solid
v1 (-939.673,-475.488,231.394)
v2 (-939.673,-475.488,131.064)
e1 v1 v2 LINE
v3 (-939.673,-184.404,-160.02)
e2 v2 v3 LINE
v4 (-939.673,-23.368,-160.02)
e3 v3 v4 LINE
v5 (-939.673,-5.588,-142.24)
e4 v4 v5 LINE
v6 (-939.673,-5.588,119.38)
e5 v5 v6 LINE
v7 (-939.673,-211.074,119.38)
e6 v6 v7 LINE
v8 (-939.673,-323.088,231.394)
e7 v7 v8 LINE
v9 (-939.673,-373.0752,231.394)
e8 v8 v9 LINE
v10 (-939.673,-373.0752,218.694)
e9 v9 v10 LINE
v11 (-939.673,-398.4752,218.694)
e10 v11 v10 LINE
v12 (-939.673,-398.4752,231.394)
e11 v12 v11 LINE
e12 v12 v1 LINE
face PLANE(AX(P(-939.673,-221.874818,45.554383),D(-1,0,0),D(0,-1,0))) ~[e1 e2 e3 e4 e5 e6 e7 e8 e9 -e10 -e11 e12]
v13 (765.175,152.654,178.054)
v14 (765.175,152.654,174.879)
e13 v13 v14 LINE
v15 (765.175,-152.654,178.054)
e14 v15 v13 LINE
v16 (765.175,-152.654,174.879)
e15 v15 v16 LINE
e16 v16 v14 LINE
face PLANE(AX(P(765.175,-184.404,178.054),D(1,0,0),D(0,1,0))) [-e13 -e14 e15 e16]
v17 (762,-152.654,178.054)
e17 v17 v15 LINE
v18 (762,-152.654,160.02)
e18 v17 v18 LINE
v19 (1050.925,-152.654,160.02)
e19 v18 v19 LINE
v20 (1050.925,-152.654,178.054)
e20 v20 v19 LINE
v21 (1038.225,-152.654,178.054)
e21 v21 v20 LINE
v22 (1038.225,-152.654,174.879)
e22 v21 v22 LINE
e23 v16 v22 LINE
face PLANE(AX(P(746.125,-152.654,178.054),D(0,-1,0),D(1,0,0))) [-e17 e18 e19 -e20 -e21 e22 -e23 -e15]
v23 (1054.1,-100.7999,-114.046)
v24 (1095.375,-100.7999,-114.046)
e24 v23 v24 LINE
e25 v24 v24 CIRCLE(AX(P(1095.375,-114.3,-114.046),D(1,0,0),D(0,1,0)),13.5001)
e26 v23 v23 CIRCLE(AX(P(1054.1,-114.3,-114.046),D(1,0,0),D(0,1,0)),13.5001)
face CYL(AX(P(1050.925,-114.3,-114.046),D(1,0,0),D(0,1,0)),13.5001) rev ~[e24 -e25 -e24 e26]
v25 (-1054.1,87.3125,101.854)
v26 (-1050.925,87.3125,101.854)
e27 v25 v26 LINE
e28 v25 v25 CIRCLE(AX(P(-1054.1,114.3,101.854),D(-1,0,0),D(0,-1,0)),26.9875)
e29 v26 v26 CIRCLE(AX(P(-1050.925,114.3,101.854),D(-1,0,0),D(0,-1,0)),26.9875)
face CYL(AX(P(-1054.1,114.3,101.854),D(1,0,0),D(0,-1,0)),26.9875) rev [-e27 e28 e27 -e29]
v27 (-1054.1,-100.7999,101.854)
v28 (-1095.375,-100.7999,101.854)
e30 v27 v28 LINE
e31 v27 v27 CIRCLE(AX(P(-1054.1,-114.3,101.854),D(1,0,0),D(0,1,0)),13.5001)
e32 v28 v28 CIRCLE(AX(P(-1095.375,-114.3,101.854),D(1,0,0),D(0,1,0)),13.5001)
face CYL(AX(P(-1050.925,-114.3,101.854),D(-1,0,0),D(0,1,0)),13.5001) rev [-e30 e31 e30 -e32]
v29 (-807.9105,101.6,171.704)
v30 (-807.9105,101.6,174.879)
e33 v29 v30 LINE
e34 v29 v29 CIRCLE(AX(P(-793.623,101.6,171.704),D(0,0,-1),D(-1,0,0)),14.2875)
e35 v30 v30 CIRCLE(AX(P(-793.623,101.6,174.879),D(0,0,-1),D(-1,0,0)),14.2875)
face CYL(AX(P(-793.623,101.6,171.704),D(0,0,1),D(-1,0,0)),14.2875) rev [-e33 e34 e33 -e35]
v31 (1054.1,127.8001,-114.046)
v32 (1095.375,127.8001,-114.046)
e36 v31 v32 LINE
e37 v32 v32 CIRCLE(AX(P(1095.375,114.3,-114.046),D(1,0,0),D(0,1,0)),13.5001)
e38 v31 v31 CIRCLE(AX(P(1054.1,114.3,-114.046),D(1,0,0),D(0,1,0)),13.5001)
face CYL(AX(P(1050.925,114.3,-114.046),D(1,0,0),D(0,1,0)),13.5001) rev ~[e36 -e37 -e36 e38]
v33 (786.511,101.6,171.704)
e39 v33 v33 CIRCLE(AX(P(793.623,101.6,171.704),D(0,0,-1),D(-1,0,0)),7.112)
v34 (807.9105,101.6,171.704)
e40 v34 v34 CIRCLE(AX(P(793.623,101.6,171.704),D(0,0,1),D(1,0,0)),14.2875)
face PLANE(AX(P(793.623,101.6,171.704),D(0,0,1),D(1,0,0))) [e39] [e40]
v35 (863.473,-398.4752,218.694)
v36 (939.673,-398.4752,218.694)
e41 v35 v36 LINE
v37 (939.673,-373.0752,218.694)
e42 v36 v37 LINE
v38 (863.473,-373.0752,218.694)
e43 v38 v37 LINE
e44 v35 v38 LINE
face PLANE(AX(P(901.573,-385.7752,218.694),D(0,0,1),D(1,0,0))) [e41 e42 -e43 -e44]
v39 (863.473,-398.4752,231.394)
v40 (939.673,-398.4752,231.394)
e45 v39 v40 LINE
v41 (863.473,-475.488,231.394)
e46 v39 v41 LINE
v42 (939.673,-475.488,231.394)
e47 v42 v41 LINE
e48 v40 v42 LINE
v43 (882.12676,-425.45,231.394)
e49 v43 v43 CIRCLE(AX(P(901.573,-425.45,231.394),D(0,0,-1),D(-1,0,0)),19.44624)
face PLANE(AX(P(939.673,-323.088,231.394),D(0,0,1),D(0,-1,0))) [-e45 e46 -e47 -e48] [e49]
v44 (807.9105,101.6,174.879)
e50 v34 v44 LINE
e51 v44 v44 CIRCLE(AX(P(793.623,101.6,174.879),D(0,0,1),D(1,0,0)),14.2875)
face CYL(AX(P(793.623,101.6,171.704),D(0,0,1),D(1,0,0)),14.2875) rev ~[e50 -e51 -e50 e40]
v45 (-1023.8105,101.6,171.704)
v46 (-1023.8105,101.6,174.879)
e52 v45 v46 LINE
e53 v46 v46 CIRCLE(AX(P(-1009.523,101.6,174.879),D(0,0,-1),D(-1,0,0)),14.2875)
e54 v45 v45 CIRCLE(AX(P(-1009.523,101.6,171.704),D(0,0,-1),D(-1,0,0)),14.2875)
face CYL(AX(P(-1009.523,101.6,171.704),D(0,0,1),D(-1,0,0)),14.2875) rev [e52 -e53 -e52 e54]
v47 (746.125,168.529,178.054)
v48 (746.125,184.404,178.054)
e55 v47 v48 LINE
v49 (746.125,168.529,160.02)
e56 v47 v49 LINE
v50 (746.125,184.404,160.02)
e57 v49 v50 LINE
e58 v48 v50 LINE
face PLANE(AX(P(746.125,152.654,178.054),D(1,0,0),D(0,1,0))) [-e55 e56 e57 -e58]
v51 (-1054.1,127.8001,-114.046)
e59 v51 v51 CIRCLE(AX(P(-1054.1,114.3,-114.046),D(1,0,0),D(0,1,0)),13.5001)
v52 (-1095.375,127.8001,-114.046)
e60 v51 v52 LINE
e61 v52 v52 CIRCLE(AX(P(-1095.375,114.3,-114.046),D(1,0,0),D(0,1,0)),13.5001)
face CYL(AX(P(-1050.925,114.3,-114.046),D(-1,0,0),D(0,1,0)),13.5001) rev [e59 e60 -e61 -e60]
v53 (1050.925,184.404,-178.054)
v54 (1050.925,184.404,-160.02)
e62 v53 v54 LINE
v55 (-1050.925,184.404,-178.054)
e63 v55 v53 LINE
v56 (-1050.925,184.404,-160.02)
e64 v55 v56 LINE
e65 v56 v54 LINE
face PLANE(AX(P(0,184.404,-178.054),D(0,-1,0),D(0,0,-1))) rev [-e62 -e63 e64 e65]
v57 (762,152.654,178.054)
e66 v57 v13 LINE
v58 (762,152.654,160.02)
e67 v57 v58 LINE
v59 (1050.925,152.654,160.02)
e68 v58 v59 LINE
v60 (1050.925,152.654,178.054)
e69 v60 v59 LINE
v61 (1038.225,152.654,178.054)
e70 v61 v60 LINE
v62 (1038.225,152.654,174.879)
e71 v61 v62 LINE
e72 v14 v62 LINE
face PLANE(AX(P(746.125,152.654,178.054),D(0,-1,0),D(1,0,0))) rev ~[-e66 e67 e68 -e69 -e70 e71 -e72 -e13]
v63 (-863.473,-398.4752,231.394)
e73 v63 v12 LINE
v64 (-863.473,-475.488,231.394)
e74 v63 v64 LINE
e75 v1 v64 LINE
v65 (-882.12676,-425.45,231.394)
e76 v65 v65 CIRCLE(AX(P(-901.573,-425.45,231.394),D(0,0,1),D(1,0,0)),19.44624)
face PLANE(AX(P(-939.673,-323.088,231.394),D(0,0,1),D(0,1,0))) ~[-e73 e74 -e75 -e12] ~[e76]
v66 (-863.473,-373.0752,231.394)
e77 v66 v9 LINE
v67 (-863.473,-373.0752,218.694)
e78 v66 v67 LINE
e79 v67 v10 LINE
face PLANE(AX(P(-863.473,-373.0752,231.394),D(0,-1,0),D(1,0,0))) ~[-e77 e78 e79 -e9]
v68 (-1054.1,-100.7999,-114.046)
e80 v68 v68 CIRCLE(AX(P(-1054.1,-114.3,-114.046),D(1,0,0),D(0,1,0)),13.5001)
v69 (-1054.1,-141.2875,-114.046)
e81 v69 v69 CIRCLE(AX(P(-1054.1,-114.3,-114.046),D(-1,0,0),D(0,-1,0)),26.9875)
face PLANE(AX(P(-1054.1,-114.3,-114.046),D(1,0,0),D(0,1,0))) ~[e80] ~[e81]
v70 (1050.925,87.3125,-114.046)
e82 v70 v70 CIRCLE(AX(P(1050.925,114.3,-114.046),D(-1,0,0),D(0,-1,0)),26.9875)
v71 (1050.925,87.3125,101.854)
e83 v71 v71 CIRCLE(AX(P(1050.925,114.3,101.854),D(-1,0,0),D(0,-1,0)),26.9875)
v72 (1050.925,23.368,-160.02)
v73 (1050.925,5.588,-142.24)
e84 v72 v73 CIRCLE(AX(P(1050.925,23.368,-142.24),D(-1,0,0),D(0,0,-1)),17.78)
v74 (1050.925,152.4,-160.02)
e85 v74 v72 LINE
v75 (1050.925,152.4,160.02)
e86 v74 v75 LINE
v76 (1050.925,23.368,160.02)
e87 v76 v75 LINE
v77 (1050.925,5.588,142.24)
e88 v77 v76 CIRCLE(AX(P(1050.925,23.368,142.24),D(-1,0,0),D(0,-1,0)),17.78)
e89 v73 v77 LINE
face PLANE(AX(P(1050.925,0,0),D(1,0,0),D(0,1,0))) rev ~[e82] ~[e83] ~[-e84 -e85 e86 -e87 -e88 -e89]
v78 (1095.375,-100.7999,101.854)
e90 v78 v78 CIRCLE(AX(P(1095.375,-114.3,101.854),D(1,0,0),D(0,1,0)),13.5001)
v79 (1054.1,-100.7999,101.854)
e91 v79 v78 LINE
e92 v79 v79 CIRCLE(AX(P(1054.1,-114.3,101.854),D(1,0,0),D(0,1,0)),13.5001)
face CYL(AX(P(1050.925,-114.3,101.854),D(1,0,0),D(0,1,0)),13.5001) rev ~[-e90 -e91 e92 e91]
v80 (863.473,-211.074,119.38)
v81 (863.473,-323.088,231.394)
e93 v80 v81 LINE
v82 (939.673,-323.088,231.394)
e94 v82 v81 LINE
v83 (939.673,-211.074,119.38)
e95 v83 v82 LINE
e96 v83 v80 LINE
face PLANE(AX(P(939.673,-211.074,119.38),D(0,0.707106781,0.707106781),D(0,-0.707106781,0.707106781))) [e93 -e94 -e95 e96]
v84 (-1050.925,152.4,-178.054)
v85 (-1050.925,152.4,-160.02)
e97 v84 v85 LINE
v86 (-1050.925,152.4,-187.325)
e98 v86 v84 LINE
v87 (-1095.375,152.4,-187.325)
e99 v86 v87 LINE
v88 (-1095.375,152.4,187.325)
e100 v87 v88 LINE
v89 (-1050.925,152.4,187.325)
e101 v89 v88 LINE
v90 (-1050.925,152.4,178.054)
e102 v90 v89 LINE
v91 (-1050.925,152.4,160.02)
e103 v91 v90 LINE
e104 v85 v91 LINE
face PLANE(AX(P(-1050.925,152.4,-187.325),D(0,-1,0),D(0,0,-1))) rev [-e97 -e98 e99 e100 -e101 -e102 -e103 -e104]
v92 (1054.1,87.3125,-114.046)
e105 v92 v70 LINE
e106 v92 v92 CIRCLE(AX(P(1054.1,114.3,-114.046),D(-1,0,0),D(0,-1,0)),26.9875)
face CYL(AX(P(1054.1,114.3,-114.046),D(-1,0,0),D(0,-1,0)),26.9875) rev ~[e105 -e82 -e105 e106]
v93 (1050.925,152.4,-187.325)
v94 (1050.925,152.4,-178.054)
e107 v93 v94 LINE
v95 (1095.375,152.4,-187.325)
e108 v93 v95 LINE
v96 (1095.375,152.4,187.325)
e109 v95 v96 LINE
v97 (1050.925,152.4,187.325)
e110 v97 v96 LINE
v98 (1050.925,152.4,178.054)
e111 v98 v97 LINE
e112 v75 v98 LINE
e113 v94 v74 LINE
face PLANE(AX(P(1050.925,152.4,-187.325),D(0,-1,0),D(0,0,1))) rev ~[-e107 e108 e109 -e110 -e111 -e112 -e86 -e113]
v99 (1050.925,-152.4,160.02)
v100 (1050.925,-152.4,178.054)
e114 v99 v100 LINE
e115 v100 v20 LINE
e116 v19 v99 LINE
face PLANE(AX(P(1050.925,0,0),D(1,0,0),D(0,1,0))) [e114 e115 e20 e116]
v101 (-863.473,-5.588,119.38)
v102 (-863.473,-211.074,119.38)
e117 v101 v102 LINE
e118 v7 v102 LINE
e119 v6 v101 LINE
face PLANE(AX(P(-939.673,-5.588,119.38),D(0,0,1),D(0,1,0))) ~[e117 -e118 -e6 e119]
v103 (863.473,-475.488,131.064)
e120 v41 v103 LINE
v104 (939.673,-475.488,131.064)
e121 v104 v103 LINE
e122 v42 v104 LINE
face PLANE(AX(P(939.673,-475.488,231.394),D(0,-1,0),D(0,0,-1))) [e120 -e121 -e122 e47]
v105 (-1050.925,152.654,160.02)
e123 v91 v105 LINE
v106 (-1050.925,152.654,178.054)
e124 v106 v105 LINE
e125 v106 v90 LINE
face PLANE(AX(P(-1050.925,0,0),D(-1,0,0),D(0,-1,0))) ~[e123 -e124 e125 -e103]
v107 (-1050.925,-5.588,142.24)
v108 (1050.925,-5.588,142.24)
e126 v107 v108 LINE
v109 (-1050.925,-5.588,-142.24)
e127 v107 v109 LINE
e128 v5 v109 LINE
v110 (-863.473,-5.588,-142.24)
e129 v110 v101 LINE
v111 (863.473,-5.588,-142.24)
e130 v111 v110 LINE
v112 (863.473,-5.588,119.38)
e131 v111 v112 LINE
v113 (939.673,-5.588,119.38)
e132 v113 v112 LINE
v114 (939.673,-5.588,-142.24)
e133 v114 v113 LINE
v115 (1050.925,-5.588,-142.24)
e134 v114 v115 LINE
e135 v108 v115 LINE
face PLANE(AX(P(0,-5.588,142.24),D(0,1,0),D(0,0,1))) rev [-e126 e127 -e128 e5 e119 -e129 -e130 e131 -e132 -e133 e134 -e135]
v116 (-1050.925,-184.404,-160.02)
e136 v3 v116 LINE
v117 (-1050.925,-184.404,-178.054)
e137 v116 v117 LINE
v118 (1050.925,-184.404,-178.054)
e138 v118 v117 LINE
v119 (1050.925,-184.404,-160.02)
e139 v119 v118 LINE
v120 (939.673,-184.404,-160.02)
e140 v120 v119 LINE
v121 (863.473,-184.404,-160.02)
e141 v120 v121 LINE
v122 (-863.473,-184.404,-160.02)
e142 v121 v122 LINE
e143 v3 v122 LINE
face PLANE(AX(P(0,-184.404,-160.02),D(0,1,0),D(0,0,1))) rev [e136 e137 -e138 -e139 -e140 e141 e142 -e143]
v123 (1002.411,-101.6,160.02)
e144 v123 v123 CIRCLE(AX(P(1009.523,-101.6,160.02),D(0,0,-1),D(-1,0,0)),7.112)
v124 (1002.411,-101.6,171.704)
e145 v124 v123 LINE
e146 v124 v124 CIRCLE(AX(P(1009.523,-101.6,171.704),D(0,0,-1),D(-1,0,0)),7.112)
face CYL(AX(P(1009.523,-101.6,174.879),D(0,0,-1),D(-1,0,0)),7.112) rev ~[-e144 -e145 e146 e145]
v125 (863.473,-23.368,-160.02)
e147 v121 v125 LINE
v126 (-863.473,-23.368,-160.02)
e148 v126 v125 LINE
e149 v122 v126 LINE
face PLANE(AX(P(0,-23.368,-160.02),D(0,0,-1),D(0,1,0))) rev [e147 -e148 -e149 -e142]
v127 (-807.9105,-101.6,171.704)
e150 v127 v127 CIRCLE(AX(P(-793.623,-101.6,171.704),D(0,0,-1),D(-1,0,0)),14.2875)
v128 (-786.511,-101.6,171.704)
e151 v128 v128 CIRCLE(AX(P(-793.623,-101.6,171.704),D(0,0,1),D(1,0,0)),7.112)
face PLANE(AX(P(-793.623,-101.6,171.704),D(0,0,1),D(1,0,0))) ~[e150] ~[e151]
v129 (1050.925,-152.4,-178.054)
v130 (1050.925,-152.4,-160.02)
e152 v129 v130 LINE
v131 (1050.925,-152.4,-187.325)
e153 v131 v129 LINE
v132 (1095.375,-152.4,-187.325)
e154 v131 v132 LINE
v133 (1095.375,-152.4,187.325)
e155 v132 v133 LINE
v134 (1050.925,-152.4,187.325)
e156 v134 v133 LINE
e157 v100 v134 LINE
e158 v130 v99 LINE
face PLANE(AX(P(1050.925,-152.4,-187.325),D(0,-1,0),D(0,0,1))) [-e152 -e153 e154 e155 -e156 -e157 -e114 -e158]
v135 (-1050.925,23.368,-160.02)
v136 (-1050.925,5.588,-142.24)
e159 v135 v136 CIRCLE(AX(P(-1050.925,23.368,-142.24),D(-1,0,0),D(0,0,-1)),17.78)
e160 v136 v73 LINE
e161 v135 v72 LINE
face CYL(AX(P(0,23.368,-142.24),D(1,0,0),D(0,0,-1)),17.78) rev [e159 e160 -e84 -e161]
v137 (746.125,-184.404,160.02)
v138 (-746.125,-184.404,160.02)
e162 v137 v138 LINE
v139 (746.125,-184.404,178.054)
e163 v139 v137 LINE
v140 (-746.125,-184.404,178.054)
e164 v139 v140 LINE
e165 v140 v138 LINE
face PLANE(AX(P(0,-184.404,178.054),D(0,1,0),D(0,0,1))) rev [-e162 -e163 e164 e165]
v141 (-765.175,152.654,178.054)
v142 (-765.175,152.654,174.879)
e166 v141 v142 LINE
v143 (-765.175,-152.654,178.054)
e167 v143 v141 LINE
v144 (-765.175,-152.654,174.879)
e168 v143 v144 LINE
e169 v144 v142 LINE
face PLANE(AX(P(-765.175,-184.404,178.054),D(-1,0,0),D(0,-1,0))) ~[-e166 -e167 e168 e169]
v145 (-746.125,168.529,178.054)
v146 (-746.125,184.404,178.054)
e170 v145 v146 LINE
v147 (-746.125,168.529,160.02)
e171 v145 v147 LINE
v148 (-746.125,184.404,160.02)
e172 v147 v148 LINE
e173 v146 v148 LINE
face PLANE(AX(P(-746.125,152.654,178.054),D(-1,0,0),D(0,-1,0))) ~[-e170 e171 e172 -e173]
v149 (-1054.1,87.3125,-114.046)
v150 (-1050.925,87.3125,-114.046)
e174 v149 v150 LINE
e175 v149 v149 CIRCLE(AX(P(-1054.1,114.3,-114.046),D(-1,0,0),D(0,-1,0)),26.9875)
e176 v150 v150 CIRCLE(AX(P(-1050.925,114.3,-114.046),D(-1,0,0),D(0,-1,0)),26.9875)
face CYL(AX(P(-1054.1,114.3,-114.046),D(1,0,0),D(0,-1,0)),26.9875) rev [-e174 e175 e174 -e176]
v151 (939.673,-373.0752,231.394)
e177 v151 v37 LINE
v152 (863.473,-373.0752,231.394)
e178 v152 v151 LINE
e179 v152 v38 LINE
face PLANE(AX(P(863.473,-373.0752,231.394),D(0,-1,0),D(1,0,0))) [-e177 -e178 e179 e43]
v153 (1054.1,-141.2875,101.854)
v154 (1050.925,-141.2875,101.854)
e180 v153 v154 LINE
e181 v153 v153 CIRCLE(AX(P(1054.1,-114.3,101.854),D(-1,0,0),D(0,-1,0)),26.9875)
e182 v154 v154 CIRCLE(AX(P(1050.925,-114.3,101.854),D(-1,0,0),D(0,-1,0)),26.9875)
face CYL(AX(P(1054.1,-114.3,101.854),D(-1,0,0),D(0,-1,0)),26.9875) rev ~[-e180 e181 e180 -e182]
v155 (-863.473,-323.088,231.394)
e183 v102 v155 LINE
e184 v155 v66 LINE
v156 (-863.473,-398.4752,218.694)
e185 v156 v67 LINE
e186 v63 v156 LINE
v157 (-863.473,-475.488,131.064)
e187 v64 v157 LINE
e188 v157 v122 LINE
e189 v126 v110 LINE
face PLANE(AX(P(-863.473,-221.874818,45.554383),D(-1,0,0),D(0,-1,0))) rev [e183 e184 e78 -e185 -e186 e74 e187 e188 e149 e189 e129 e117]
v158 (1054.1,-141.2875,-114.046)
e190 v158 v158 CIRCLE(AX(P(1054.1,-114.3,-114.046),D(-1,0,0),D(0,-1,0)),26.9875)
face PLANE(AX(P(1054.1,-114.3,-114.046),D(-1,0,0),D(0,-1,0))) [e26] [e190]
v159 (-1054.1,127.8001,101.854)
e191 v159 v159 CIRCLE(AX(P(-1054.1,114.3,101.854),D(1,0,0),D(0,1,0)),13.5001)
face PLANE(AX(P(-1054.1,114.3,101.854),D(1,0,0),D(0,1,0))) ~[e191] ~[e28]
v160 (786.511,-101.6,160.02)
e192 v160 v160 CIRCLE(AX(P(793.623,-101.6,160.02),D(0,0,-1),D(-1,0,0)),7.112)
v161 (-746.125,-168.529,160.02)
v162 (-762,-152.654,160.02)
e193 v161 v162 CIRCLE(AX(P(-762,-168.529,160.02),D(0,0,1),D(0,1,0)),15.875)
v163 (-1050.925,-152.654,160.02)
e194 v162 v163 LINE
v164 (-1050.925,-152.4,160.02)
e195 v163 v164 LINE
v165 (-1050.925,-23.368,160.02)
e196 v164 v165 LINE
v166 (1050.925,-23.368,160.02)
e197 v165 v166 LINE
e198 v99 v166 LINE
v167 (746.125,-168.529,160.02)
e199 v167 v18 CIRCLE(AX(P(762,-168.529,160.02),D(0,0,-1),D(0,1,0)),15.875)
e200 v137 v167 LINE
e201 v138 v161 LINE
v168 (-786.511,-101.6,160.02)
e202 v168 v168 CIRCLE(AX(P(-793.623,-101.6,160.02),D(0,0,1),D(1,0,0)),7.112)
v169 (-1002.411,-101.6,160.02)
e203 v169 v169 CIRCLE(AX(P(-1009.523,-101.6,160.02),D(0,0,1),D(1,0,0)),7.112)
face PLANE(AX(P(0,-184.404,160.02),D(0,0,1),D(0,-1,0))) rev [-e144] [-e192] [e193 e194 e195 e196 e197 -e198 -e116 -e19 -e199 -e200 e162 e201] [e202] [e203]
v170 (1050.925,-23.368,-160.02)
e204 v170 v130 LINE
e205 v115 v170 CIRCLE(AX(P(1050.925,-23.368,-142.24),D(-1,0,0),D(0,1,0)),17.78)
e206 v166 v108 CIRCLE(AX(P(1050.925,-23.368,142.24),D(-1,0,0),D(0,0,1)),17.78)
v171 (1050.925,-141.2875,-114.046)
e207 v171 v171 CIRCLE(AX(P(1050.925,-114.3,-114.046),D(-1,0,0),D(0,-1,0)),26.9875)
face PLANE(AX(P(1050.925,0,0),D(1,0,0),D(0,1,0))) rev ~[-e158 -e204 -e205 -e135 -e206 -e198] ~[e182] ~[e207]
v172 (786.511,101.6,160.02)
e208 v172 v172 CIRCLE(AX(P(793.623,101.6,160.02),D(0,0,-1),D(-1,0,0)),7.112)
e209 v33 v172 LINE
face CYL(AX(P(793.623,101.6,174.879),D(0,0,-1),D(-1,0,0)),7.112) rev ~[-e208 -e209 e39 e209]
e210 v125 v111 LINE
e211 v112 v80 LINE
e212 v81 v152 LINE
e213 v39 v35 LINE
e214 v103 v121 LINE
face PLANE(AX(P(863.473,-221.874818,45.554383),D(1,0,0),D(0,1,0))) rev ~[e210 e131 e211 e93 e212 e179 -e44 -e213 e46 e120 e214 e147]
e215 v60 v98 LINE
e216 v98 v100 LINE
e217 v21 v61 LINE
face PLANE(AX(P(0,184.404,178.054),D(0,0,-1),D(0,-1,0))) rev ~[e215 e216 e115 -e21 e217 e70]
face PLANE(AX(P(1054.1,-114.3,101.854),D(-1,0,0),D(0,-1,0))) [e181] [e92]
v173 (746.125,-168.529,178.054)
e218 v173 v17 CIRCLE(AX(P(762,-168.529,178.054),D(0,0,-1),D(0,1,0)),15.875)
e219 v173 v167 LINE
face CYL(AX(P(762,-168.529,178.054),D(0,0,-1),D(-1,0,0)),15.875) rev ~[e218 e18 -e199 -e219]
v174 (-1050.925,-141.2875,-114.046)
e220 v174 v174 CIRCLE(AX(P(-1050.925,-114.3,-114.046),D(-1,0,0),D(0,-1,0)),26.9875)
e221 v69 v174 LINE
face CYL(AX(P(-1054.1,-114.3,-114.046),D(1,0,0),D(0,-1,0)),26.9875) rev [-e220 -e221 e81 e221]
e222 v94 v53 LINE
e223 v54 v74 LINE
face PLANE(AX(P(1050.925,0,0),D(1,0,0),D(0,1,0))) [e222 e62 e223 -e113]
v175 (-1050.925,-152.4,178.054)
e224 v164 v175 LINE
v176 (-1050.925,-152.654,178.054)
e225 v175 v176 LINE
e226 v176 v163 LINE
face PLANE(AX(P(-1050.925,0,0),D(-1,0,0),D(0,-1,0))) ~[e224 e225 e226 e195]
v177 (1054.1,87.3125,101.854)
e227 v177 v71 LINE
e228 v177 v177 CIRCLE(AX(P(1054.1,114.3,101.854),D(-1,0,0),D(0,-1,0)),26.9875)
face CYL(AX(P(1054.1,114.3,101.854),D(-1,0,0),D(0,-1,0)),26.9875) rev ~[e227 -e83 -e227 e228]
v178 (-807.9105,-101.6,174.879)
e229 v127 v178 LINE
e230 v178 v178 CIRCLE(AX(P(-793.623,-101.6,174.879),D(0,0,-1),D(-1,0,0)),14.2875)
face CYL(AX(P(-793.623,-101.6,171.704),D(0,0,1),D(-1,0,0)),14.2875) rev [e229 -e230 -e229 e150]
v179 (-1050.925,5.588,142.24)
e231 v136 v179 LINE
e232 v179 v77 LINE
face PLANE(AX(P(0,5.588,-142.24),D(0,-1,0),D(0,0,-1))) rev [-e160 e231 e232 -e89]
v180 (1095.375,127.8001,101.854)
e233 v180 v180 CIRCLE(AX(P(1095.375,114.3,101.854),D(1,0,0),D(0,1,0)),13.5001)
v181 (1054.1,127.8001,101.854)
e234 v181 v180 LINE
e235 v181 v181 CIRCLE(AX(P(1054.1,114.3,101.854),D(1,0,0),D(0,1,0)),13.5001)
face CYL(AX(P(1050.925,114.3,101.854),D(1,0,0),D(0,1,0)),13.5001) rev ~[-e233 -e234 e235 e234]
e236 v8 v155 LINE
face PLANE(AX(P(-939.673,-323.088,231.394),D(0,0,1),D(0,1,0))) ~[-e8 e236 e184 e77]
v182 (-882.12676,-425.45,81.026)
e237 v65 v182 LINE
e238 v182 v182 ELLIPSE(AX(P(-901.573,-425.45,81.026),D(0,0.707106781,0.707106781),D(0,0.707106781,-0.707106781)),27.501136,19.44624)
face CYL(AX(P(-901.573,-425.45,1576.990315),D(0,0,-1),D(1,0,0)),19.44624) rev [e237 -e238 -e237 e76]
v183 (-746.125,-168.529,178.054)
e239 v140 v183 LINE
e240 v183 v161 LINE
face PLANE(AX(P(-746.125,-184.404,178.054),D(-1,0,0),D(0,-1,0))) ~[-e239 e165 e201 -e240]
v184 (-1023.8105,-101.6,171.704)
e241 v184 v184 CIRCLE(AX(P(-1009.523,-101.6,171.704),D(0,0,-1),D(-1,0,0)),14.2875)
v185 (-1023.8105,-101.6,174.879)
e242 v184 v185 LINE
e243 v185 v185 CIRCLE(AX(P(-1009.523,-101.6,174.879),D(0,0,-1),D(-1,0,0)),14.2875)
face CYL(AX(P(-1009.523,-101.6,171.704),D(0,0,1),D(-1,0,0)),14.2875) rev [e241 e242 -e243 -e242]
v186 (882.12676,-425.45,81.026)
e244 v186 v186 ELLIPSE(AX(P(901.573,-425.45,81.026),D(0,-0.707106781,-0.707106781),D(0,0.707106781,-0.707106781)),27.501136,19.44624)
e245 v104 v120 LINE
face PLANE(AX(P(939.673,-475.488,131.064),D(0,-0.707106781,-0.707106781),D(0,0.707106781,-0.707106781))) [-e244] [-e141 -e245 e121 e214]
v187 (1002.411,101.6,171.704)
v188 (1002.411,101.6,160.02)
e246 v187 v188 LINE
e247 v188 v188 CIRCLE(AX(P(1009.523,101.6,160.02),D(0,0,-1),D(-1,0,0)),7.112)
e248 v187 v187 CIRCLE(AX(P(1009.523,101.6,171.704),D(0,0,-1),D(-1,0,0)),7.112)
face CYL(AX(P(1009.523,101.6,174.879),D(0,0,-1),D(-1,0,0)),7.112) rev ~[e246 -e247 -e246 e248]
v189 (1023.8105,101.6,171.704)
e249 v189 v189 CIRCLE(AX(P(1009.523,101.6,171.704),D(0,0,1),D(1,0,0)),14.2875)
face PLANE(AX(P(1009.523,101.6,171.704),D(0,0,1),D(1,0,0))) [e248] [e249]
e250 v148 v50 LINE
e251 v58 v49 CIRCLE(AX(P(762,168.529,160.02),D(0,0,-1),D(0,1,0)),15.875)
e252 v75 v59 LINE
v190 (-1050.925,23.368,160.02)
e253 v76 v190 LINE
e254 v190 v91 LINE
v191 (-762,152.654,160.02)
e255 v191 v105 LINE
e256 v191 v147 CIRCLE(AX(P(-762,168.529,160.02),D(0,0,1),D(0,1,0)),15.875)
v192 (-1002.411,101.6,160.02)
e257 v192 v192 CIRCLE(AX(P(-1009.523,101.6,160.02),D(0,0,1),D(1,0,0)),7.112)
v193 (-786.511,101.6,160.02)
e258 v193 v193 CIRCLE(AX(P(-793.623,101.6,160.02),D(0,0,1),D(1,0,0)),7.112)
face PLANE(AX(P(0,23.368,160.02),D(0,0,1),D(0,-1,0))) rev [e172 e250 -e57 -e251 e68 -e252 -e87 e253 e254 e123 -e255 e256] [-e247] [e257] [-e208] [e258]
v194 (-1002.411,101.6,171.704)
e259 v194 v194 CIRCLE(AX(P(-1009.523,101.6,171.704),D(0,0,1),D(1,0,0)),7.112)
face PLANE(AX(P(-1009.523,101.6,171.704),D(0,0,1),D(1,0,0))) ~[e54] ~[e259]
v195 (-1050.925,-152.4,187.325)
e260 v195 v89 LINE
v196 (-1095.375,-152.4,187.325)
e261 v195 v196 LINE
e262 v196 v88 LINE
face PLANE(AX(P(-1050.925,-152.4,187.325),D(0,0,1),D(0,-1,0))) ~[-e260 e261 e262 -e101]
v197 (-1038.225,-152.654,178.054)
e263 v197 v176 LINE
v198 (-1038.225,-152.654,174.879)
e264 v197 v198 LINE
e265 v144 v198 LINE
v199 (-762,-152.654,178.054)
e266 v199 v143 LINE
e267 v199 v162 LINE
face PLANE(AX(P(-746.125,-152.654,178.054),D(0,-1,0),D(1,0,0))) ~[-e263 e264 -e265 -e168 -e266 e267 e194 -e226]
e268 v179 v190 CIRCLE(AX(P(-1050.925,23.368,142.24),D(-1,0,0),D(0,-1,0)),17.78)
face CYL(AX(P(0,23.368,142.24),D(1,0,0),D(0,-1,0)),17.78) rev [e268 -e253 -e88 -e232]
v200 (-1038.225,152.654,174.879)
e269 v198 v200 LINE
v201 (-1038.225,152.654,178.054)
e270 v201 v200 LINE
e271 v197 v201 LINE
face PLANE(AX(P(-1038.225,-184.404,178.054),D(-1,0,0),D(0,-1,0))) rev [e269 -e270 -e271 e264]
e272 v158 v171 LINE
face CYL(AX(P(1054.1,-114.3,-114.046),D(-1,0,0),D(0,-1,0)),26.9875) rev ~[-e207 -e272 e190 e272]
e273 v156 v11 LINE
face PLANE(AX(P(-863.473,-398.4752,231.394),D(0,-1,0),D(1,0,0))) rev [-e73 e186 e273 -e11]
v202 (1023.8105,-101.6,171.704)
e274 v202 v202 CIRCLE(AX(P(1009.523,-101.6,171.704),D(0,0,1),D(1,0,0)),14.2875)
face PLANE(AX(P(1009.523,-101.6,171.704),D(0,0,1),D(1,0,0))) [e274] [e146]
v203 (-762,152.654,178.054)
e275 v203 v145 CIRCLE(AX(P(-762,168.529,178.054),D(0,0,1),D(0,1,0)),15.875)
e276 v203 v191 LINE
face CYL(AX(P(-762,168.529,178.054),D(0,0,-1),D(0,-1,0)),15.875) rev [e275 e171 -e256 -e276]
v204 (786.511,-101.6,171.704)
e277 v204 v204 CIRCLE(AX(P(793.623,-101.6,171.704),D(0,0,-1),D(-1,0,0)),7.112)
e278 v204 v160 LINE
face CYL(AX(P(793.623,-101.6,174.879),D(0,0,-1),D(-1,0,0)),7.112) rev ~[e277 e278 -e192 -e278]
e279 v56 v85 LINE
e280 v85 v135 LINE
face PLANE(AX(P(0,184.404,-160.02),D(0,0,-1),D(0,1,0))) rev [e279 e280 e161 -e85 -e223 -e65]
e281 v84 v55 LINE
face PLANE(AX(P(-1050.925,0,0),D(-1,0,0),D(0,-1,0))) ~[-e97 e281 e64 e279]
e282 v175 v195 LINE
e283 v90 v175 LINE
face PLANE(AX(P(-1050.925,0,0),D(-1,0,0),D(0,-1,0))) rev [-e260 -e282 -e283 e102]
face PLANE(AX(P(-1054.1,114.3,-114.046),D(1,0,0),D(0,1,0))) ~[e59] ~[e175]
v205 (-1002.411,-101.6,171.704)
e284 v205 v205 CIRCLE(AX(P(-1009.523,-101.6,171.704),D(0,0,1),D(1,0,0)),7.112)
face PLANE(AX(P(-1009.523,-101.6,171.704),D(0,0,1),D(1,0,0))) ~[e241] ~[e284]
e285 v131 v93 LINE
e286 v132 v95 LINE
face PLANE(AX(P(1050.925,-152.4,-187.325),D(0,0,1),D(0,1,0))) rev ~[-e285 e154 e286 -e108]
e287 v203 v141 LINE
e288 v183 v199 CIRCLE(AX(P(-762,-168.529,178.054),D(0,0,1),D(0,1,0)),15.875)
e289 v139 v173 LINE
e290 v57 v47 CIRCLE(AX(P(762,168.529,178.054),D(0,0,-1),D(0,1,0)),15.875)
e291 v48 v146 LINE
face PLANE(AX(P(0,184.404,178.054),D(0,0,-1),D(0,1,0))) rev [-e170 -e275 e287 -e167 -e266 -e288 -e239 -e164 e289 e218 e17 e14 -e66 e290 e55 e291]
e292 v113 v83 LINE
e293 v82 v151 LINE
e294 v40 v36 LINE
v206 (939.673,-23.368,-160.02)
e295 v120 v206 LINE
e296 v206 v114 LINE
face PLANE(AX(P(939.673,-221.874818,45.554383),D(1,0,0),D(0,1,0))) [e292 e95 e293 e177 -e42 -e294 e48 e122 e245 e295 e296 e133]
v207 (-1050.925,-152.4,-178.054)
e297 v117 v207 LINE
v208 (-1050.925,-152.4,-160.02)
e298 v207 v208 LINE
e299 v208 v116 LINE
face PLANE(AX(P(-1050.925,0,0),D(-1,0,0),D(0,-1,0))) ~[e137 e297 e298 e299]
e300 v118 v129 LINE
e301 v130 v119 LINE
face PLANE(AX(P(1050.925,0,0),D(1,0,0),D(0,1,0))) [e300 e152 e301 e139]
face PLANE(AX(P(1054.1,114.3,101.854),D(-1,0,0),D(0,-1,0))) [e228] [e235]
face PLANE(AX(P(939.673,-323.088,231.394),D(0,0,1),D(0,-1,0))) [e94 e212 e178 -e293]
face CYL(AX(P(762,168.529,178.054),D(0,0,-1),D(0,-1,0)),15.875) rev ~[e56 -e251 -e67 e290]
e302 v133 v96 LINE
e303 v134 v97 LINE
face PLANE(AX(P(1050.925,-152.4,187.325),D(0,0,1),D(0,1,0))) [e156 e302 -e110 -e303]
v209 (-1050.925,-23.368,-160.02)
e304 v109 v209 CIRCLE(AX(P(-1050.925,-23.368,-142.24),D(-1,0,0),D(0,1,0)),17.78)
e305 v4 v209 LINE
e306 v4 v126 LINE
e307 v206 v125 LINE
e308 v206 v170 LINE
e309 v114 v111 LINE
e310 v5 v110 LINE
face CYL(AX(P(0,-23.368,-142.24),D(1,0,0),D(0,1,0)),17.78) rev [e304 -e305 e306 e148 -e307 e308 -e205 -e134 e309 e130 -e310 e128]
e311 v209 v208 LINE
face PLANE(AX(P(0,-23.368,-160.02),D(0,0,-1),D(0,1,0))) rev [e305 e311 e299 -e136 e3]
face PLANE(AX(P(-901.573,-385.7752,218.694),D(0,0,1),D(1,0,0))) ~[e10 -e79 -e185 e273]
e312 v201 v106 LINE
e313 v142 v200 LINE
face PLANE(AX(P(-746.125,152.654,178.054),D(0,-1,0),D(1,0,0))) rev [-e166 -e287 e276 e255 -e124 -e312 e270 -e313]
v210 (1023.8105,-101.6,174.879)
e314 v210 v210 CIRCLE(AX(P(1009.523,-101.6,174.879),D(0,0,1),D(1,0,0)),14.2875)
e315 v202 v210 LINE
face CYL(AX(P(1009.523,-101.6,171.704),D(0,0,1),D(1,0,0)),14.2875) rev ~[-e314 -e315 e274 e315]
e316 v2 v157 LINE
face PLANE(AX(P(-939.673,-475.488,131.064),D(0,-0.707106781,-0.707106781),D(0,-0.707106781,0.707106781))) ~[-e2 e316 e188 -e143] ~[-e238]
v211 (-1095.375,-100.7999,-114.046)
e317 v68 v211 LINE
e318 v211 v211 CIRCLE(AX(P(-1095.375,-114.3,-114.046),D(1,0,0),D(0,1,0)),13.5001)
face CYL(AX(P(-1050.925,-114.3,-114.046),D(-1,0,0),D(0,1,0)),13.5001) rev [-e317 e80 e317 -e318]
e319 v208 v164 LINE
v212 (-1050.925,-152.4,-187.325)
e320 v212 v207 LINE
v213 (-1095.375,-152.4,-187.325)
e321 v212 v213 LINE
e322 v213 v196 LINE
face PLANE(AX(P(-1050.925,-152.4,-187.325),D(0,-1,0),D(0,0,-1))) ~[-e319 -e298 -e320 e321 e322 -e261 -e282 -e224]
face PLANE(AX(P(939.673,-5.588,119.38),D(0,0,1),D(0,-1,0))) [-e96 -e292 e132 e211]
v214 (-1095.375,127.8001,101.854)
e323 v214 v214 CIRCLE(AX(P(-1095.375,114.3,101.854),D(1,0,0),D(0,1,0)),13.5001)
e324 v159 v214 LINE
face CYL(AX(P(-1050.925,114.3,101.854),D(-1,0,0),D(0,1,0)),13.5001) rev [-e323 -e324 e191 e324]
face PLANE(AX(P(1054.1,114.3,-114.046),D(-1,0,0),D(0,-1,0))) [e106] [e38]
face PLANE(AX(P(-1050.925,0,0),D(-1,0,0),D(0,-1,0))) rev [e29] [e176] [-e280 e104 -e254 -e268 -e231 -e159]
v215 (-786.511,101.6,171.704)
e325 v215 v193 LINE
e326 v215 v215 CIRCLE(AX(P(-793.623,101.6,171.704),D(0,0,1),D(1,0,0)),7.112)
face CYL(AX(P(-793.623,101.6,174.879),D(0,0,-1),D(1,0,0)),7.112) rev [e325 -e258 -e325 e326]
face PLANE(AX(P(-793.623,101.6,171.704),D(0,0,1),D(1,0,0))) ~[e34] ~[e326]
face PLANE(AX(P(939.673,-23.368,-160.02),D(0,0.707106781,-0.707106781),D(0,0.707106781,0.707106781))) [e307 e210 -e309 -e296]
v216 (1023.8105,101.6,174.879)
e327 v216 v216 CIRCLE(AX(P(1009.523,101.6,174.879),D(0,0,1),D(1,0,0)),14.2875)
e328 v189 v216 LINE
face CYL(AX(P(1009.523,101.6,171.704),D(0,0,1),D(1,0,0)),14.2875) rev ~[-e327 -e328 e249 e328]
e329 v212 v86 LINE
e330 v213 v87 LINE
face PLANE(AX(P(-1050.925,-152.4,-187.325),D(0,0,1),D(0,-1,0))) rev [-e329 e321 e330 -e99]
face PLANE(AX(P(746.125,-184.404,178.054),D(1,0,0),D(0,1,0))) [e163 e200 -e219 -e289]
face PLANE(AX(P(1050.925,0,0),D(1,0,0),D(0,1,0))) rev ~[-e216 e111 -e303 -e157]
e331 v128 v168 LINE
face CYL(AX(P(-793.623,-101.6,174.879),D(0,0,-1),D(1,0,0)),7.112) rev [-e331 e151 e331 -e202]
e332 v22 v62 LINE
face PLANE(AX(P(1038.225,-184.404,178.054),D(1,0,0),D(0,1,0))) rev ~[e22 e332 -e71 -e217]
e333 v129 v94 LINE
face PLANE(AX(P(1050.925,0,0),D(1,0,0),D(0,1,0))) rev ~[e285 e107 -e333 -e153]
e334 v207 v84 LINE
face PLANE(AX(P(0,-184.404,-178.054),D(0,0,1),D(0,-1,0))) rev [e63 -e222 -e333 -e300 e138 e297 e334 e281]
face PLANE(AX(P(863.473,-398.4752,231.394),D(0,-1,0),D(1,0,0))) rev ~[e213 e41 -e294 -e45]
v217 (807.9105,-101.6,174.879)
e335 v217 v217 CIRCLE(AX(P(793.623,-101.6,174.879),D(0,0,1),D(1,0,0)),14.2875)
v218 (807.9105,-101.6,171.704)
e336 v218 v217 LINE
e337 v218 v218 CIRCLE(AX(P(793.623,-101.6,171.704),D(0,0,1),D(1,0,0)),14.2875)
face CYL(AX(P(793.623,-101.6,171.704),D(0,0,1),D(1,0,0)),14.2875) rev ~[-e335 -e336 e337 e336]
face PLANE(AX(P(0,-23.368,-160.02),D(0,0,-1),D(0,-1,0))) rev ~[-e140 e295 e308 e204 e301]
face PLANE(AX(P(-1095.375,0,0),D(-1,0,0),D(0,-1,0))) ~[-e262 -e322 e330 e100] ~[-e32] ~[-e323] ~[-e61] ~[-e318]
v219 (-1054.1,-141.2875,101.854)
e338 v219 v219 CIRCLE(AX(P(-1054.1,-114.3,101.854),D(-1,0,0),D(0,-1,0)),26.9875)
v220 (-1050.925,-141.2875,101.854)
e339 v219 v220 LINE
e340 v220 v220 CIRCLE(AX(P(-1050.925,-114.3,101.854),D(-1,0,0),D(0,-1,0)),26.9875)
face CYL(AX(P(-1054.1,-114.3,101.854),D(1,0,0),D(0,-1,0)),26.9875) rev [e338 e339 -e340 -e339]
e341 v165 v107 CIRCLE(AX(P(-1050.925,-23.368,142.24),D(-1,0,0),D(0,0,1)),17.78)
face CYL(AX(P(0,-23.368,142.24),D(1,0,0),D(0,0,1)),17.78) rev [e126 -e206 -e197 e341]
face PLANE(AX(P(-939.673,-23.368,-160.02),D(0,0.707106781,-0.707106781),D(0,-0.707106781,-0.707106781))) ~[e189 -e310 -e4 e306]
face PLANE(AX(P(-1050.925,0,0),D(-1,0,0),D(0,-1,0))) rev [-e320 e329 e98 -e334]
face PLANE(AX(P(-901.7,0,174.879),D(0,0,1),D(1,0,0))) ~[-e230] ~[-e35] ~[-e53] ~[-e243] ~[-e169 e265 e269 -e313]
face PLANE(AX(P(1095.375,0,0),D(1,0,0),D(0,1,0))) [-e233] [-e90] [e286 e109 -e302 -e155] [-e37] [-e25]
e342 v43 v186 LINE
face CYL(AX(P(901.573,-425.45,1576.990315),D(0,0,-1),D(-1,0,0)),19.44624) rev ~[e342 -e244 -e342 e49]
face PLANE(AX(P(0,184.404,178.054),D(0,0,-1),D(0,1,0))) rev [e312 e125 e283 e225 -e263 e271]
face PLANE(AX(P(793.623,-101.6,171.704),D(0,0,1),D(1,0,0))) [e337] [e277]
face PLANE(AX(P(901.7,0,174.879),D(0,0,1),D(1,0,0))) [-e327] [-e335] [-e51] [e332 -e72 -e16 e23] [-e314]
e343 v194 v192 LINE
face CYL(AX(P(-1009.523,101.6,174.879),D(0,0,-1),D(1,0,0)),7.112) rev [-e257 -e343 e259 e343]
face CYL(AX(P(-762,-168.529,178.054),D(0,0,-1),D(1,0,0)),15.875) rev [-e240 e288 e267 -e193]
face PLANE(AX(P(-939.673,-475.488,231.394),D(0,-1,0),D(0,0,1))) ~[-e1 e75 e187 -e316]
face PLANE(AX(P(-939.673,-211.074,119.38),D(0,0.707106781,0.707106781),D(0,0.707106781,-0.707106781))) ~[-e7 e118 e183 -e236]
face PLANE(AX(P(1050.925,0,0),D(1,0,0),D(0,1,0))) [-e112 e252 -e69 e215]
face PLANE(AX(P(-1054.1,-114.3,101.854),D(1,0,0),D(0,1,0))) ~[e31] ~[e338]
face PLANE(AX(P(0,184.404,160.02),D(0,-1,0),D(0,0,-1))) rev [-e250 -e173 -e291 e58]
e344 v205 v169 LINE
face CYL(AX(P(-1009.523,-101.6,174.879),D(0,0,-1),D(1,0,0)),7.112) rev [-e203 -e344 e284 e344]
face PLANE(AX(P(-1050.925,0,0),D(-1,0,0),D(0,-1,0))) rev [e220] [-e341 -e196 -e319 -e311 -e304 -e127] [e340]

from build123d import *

# Parameters (mm, degrees)
F1_DEPTH        = 1050.925
F2_W            = 273.05
F2_H            = 368.808
F3_DEPTH        = 3.175
F5_D            = 14.224
F5_DEPTH        = 31.75
F5_CBORE_D      = 28.575
F5_CBORE_DEPTH  = 3.175
F5_TIP          = 4.2733207225
F6_W            = 304.8
F6_H            = 31.75
F7_DEPTH        = 25.4
F8_R            = 15.875
F9_W            = 304.8
F9_H            = 374.65
F10_DEPTH       = 44.45
F12_D           = 27.0002
F12_CBORE_D     = 53.975
F12_CBORE_DEPTH = 3.175
F15_DEPTH       = 76.2
F17_D           = 38.89248
F18_W           = 76.2
F18_H           = 25.4
F19_DEPTH       = 12.7


with BuildPart() as f1:
    # F0 (on Right) → F1 (new body)
    with BuildSketch(Plane.YZ):
        with BuildLine():
            Line((184.404, 178.054), (-184.404, 178.054))
            Line((-184.404, 178.054), (-184.404, 160.02))
            Line((-184.404, 160.02), (-23.368, 160.02))
            ThreePointArc((-23.368, 160.02), (-10.7956414305, 154.8123585695), (-5.588, 142.24))
            Line((-5.588, 142.24), (-5.588, -142.24))
            ThreePointArc((-5.588, -142.24), (-10.7956414305, -154.8123585695), (-23.368, -160.02))
            Line((-23.368, -160.02), (-184.404, -160.02))
            Line((-184.404, -160.02), (-184.404, -178.054))
            Line((-184.404, -178.054), (184.404, -178.054))
            Line((184.404, -178.054), (184.404, -160.02))
            Line((184.404, -160.02), (23.368, -160.02))
            ThreePointArc((23.368, -160.02), (10.7956414305, -154.8123585695), (5.588, -142.24))
            Line((5.588, -142.24), (5.588, 142.24))
            ThreePointArc((5.588, 142.24), (10.7956414305, 154.8123585695), (23.368, 160.02))
            Line((23.368, 160.02), (184.404, 160.02))
            Line((184.404, 160.02), (184.404, 178.054))
        make_face()
    extrude(amount=F1_DEPTH)

    # F2 (on face) → F3 (cut)
    with BuildSketch(Plane.XY.offset(178.054)):
        with Locations((901.7, 0)):
            Rectangle(F2_W, F2_H)
    extrude(amount=-F3_DEPTH, mode=Mode.SUBTRACT)

    # F5
    with Locations(Plane.XY.offset(174.879)):
        with Locations((793.623, 101.6), (1009.523, 101.6), (793.623, -101.6), (1009.523, -101.6)):
            CounterBoreHole(F5_D / 2, F5_CBORE_D / 2, F5_CBORE_DEPTH, depth=F5_DEPTH)
            with Locations((0, 0, -(F5_DEPTH + F5_TIP / 2))):  # 118° drill point
                Cone(0, F5_D / 2, F5_TIP, mode=Mode.SUBTRACT)

    # F6 (on face) → F7 (cut)
    with BuildSketch(Plane.XY.offset(178.054)):
        with Locations((898.525, 168.529)):
            Rectangle(F6_W, F6_H)
        with Locations((898.525, -168.529)):
            Rectangle(F6_W, F6_H)
    extrude(amount=-F7_DEPTH, mode=Mode.SUBTRACT)

    # F8
    f8_edges = [f1.edges().sort_by_distance(p)[0] for p in [
        (746.125, -152.654, 169.037),
        (746.125, 152.654, 169.037),
    ]]
    fillet(f8_edges, radius=F8_R)

    # F9 (on face) → F10 (join)
    with BuildSketch(Plane.YZ.offset(1050.925)):
        Rectangle(F9_W, F9_H)
    extrude(amount=F10_DEPTH)

    # F12 (through all)
    with Locations(Plane(origin=(1050.925, 0, 0), x_dir=(0, -1, 0), z_dir=(-1, 0, 0))):
        with Locations((-114.3, 101.854), (-114.3, -114.046), (114.3, 101.854), (114.3, -114.046)):
            CounterBoreHole(F12_D / 2, F12_CBORE_D / 2, F12_CBORE_DEPTH)

    # F14 (on offset) → F15 (join)
    with BuildSketch(Plane.YZ.offset(939.673)):
        Polygon((-5.588, -142.24), (-5.588, 119.38), (-211.074, 119.38), (-323.088, 231.394), (-475.488, 231.394), (-475.488, 131.064), (-184.404, -160.02), (-23.368, -160.02), align=None)
    extrude(amount=-F15_DEPTH)

    # F17 (through all)
    with Locations(Plane.XY.offset(231.394)):
        with Locations((901.573, -425.45)):
            Hole(F17_D / 2)

    # F18 (on face) → F19 (cut)
    with BuildSketch(Plane.XY.offset(231.394)):
        with Locations((901.573, -385.7752)):
            Rectangle(F18_W, F18_H)
    extrude(amount=-F19_DEPTH, mode=Mode.SUBTRACT)

    # F20: F1 across plane


with BuildPart() as f1_1:
    add(f1.part)
    add(f1.part.mirror(Plane.YZ))


solid = f1_1.part
